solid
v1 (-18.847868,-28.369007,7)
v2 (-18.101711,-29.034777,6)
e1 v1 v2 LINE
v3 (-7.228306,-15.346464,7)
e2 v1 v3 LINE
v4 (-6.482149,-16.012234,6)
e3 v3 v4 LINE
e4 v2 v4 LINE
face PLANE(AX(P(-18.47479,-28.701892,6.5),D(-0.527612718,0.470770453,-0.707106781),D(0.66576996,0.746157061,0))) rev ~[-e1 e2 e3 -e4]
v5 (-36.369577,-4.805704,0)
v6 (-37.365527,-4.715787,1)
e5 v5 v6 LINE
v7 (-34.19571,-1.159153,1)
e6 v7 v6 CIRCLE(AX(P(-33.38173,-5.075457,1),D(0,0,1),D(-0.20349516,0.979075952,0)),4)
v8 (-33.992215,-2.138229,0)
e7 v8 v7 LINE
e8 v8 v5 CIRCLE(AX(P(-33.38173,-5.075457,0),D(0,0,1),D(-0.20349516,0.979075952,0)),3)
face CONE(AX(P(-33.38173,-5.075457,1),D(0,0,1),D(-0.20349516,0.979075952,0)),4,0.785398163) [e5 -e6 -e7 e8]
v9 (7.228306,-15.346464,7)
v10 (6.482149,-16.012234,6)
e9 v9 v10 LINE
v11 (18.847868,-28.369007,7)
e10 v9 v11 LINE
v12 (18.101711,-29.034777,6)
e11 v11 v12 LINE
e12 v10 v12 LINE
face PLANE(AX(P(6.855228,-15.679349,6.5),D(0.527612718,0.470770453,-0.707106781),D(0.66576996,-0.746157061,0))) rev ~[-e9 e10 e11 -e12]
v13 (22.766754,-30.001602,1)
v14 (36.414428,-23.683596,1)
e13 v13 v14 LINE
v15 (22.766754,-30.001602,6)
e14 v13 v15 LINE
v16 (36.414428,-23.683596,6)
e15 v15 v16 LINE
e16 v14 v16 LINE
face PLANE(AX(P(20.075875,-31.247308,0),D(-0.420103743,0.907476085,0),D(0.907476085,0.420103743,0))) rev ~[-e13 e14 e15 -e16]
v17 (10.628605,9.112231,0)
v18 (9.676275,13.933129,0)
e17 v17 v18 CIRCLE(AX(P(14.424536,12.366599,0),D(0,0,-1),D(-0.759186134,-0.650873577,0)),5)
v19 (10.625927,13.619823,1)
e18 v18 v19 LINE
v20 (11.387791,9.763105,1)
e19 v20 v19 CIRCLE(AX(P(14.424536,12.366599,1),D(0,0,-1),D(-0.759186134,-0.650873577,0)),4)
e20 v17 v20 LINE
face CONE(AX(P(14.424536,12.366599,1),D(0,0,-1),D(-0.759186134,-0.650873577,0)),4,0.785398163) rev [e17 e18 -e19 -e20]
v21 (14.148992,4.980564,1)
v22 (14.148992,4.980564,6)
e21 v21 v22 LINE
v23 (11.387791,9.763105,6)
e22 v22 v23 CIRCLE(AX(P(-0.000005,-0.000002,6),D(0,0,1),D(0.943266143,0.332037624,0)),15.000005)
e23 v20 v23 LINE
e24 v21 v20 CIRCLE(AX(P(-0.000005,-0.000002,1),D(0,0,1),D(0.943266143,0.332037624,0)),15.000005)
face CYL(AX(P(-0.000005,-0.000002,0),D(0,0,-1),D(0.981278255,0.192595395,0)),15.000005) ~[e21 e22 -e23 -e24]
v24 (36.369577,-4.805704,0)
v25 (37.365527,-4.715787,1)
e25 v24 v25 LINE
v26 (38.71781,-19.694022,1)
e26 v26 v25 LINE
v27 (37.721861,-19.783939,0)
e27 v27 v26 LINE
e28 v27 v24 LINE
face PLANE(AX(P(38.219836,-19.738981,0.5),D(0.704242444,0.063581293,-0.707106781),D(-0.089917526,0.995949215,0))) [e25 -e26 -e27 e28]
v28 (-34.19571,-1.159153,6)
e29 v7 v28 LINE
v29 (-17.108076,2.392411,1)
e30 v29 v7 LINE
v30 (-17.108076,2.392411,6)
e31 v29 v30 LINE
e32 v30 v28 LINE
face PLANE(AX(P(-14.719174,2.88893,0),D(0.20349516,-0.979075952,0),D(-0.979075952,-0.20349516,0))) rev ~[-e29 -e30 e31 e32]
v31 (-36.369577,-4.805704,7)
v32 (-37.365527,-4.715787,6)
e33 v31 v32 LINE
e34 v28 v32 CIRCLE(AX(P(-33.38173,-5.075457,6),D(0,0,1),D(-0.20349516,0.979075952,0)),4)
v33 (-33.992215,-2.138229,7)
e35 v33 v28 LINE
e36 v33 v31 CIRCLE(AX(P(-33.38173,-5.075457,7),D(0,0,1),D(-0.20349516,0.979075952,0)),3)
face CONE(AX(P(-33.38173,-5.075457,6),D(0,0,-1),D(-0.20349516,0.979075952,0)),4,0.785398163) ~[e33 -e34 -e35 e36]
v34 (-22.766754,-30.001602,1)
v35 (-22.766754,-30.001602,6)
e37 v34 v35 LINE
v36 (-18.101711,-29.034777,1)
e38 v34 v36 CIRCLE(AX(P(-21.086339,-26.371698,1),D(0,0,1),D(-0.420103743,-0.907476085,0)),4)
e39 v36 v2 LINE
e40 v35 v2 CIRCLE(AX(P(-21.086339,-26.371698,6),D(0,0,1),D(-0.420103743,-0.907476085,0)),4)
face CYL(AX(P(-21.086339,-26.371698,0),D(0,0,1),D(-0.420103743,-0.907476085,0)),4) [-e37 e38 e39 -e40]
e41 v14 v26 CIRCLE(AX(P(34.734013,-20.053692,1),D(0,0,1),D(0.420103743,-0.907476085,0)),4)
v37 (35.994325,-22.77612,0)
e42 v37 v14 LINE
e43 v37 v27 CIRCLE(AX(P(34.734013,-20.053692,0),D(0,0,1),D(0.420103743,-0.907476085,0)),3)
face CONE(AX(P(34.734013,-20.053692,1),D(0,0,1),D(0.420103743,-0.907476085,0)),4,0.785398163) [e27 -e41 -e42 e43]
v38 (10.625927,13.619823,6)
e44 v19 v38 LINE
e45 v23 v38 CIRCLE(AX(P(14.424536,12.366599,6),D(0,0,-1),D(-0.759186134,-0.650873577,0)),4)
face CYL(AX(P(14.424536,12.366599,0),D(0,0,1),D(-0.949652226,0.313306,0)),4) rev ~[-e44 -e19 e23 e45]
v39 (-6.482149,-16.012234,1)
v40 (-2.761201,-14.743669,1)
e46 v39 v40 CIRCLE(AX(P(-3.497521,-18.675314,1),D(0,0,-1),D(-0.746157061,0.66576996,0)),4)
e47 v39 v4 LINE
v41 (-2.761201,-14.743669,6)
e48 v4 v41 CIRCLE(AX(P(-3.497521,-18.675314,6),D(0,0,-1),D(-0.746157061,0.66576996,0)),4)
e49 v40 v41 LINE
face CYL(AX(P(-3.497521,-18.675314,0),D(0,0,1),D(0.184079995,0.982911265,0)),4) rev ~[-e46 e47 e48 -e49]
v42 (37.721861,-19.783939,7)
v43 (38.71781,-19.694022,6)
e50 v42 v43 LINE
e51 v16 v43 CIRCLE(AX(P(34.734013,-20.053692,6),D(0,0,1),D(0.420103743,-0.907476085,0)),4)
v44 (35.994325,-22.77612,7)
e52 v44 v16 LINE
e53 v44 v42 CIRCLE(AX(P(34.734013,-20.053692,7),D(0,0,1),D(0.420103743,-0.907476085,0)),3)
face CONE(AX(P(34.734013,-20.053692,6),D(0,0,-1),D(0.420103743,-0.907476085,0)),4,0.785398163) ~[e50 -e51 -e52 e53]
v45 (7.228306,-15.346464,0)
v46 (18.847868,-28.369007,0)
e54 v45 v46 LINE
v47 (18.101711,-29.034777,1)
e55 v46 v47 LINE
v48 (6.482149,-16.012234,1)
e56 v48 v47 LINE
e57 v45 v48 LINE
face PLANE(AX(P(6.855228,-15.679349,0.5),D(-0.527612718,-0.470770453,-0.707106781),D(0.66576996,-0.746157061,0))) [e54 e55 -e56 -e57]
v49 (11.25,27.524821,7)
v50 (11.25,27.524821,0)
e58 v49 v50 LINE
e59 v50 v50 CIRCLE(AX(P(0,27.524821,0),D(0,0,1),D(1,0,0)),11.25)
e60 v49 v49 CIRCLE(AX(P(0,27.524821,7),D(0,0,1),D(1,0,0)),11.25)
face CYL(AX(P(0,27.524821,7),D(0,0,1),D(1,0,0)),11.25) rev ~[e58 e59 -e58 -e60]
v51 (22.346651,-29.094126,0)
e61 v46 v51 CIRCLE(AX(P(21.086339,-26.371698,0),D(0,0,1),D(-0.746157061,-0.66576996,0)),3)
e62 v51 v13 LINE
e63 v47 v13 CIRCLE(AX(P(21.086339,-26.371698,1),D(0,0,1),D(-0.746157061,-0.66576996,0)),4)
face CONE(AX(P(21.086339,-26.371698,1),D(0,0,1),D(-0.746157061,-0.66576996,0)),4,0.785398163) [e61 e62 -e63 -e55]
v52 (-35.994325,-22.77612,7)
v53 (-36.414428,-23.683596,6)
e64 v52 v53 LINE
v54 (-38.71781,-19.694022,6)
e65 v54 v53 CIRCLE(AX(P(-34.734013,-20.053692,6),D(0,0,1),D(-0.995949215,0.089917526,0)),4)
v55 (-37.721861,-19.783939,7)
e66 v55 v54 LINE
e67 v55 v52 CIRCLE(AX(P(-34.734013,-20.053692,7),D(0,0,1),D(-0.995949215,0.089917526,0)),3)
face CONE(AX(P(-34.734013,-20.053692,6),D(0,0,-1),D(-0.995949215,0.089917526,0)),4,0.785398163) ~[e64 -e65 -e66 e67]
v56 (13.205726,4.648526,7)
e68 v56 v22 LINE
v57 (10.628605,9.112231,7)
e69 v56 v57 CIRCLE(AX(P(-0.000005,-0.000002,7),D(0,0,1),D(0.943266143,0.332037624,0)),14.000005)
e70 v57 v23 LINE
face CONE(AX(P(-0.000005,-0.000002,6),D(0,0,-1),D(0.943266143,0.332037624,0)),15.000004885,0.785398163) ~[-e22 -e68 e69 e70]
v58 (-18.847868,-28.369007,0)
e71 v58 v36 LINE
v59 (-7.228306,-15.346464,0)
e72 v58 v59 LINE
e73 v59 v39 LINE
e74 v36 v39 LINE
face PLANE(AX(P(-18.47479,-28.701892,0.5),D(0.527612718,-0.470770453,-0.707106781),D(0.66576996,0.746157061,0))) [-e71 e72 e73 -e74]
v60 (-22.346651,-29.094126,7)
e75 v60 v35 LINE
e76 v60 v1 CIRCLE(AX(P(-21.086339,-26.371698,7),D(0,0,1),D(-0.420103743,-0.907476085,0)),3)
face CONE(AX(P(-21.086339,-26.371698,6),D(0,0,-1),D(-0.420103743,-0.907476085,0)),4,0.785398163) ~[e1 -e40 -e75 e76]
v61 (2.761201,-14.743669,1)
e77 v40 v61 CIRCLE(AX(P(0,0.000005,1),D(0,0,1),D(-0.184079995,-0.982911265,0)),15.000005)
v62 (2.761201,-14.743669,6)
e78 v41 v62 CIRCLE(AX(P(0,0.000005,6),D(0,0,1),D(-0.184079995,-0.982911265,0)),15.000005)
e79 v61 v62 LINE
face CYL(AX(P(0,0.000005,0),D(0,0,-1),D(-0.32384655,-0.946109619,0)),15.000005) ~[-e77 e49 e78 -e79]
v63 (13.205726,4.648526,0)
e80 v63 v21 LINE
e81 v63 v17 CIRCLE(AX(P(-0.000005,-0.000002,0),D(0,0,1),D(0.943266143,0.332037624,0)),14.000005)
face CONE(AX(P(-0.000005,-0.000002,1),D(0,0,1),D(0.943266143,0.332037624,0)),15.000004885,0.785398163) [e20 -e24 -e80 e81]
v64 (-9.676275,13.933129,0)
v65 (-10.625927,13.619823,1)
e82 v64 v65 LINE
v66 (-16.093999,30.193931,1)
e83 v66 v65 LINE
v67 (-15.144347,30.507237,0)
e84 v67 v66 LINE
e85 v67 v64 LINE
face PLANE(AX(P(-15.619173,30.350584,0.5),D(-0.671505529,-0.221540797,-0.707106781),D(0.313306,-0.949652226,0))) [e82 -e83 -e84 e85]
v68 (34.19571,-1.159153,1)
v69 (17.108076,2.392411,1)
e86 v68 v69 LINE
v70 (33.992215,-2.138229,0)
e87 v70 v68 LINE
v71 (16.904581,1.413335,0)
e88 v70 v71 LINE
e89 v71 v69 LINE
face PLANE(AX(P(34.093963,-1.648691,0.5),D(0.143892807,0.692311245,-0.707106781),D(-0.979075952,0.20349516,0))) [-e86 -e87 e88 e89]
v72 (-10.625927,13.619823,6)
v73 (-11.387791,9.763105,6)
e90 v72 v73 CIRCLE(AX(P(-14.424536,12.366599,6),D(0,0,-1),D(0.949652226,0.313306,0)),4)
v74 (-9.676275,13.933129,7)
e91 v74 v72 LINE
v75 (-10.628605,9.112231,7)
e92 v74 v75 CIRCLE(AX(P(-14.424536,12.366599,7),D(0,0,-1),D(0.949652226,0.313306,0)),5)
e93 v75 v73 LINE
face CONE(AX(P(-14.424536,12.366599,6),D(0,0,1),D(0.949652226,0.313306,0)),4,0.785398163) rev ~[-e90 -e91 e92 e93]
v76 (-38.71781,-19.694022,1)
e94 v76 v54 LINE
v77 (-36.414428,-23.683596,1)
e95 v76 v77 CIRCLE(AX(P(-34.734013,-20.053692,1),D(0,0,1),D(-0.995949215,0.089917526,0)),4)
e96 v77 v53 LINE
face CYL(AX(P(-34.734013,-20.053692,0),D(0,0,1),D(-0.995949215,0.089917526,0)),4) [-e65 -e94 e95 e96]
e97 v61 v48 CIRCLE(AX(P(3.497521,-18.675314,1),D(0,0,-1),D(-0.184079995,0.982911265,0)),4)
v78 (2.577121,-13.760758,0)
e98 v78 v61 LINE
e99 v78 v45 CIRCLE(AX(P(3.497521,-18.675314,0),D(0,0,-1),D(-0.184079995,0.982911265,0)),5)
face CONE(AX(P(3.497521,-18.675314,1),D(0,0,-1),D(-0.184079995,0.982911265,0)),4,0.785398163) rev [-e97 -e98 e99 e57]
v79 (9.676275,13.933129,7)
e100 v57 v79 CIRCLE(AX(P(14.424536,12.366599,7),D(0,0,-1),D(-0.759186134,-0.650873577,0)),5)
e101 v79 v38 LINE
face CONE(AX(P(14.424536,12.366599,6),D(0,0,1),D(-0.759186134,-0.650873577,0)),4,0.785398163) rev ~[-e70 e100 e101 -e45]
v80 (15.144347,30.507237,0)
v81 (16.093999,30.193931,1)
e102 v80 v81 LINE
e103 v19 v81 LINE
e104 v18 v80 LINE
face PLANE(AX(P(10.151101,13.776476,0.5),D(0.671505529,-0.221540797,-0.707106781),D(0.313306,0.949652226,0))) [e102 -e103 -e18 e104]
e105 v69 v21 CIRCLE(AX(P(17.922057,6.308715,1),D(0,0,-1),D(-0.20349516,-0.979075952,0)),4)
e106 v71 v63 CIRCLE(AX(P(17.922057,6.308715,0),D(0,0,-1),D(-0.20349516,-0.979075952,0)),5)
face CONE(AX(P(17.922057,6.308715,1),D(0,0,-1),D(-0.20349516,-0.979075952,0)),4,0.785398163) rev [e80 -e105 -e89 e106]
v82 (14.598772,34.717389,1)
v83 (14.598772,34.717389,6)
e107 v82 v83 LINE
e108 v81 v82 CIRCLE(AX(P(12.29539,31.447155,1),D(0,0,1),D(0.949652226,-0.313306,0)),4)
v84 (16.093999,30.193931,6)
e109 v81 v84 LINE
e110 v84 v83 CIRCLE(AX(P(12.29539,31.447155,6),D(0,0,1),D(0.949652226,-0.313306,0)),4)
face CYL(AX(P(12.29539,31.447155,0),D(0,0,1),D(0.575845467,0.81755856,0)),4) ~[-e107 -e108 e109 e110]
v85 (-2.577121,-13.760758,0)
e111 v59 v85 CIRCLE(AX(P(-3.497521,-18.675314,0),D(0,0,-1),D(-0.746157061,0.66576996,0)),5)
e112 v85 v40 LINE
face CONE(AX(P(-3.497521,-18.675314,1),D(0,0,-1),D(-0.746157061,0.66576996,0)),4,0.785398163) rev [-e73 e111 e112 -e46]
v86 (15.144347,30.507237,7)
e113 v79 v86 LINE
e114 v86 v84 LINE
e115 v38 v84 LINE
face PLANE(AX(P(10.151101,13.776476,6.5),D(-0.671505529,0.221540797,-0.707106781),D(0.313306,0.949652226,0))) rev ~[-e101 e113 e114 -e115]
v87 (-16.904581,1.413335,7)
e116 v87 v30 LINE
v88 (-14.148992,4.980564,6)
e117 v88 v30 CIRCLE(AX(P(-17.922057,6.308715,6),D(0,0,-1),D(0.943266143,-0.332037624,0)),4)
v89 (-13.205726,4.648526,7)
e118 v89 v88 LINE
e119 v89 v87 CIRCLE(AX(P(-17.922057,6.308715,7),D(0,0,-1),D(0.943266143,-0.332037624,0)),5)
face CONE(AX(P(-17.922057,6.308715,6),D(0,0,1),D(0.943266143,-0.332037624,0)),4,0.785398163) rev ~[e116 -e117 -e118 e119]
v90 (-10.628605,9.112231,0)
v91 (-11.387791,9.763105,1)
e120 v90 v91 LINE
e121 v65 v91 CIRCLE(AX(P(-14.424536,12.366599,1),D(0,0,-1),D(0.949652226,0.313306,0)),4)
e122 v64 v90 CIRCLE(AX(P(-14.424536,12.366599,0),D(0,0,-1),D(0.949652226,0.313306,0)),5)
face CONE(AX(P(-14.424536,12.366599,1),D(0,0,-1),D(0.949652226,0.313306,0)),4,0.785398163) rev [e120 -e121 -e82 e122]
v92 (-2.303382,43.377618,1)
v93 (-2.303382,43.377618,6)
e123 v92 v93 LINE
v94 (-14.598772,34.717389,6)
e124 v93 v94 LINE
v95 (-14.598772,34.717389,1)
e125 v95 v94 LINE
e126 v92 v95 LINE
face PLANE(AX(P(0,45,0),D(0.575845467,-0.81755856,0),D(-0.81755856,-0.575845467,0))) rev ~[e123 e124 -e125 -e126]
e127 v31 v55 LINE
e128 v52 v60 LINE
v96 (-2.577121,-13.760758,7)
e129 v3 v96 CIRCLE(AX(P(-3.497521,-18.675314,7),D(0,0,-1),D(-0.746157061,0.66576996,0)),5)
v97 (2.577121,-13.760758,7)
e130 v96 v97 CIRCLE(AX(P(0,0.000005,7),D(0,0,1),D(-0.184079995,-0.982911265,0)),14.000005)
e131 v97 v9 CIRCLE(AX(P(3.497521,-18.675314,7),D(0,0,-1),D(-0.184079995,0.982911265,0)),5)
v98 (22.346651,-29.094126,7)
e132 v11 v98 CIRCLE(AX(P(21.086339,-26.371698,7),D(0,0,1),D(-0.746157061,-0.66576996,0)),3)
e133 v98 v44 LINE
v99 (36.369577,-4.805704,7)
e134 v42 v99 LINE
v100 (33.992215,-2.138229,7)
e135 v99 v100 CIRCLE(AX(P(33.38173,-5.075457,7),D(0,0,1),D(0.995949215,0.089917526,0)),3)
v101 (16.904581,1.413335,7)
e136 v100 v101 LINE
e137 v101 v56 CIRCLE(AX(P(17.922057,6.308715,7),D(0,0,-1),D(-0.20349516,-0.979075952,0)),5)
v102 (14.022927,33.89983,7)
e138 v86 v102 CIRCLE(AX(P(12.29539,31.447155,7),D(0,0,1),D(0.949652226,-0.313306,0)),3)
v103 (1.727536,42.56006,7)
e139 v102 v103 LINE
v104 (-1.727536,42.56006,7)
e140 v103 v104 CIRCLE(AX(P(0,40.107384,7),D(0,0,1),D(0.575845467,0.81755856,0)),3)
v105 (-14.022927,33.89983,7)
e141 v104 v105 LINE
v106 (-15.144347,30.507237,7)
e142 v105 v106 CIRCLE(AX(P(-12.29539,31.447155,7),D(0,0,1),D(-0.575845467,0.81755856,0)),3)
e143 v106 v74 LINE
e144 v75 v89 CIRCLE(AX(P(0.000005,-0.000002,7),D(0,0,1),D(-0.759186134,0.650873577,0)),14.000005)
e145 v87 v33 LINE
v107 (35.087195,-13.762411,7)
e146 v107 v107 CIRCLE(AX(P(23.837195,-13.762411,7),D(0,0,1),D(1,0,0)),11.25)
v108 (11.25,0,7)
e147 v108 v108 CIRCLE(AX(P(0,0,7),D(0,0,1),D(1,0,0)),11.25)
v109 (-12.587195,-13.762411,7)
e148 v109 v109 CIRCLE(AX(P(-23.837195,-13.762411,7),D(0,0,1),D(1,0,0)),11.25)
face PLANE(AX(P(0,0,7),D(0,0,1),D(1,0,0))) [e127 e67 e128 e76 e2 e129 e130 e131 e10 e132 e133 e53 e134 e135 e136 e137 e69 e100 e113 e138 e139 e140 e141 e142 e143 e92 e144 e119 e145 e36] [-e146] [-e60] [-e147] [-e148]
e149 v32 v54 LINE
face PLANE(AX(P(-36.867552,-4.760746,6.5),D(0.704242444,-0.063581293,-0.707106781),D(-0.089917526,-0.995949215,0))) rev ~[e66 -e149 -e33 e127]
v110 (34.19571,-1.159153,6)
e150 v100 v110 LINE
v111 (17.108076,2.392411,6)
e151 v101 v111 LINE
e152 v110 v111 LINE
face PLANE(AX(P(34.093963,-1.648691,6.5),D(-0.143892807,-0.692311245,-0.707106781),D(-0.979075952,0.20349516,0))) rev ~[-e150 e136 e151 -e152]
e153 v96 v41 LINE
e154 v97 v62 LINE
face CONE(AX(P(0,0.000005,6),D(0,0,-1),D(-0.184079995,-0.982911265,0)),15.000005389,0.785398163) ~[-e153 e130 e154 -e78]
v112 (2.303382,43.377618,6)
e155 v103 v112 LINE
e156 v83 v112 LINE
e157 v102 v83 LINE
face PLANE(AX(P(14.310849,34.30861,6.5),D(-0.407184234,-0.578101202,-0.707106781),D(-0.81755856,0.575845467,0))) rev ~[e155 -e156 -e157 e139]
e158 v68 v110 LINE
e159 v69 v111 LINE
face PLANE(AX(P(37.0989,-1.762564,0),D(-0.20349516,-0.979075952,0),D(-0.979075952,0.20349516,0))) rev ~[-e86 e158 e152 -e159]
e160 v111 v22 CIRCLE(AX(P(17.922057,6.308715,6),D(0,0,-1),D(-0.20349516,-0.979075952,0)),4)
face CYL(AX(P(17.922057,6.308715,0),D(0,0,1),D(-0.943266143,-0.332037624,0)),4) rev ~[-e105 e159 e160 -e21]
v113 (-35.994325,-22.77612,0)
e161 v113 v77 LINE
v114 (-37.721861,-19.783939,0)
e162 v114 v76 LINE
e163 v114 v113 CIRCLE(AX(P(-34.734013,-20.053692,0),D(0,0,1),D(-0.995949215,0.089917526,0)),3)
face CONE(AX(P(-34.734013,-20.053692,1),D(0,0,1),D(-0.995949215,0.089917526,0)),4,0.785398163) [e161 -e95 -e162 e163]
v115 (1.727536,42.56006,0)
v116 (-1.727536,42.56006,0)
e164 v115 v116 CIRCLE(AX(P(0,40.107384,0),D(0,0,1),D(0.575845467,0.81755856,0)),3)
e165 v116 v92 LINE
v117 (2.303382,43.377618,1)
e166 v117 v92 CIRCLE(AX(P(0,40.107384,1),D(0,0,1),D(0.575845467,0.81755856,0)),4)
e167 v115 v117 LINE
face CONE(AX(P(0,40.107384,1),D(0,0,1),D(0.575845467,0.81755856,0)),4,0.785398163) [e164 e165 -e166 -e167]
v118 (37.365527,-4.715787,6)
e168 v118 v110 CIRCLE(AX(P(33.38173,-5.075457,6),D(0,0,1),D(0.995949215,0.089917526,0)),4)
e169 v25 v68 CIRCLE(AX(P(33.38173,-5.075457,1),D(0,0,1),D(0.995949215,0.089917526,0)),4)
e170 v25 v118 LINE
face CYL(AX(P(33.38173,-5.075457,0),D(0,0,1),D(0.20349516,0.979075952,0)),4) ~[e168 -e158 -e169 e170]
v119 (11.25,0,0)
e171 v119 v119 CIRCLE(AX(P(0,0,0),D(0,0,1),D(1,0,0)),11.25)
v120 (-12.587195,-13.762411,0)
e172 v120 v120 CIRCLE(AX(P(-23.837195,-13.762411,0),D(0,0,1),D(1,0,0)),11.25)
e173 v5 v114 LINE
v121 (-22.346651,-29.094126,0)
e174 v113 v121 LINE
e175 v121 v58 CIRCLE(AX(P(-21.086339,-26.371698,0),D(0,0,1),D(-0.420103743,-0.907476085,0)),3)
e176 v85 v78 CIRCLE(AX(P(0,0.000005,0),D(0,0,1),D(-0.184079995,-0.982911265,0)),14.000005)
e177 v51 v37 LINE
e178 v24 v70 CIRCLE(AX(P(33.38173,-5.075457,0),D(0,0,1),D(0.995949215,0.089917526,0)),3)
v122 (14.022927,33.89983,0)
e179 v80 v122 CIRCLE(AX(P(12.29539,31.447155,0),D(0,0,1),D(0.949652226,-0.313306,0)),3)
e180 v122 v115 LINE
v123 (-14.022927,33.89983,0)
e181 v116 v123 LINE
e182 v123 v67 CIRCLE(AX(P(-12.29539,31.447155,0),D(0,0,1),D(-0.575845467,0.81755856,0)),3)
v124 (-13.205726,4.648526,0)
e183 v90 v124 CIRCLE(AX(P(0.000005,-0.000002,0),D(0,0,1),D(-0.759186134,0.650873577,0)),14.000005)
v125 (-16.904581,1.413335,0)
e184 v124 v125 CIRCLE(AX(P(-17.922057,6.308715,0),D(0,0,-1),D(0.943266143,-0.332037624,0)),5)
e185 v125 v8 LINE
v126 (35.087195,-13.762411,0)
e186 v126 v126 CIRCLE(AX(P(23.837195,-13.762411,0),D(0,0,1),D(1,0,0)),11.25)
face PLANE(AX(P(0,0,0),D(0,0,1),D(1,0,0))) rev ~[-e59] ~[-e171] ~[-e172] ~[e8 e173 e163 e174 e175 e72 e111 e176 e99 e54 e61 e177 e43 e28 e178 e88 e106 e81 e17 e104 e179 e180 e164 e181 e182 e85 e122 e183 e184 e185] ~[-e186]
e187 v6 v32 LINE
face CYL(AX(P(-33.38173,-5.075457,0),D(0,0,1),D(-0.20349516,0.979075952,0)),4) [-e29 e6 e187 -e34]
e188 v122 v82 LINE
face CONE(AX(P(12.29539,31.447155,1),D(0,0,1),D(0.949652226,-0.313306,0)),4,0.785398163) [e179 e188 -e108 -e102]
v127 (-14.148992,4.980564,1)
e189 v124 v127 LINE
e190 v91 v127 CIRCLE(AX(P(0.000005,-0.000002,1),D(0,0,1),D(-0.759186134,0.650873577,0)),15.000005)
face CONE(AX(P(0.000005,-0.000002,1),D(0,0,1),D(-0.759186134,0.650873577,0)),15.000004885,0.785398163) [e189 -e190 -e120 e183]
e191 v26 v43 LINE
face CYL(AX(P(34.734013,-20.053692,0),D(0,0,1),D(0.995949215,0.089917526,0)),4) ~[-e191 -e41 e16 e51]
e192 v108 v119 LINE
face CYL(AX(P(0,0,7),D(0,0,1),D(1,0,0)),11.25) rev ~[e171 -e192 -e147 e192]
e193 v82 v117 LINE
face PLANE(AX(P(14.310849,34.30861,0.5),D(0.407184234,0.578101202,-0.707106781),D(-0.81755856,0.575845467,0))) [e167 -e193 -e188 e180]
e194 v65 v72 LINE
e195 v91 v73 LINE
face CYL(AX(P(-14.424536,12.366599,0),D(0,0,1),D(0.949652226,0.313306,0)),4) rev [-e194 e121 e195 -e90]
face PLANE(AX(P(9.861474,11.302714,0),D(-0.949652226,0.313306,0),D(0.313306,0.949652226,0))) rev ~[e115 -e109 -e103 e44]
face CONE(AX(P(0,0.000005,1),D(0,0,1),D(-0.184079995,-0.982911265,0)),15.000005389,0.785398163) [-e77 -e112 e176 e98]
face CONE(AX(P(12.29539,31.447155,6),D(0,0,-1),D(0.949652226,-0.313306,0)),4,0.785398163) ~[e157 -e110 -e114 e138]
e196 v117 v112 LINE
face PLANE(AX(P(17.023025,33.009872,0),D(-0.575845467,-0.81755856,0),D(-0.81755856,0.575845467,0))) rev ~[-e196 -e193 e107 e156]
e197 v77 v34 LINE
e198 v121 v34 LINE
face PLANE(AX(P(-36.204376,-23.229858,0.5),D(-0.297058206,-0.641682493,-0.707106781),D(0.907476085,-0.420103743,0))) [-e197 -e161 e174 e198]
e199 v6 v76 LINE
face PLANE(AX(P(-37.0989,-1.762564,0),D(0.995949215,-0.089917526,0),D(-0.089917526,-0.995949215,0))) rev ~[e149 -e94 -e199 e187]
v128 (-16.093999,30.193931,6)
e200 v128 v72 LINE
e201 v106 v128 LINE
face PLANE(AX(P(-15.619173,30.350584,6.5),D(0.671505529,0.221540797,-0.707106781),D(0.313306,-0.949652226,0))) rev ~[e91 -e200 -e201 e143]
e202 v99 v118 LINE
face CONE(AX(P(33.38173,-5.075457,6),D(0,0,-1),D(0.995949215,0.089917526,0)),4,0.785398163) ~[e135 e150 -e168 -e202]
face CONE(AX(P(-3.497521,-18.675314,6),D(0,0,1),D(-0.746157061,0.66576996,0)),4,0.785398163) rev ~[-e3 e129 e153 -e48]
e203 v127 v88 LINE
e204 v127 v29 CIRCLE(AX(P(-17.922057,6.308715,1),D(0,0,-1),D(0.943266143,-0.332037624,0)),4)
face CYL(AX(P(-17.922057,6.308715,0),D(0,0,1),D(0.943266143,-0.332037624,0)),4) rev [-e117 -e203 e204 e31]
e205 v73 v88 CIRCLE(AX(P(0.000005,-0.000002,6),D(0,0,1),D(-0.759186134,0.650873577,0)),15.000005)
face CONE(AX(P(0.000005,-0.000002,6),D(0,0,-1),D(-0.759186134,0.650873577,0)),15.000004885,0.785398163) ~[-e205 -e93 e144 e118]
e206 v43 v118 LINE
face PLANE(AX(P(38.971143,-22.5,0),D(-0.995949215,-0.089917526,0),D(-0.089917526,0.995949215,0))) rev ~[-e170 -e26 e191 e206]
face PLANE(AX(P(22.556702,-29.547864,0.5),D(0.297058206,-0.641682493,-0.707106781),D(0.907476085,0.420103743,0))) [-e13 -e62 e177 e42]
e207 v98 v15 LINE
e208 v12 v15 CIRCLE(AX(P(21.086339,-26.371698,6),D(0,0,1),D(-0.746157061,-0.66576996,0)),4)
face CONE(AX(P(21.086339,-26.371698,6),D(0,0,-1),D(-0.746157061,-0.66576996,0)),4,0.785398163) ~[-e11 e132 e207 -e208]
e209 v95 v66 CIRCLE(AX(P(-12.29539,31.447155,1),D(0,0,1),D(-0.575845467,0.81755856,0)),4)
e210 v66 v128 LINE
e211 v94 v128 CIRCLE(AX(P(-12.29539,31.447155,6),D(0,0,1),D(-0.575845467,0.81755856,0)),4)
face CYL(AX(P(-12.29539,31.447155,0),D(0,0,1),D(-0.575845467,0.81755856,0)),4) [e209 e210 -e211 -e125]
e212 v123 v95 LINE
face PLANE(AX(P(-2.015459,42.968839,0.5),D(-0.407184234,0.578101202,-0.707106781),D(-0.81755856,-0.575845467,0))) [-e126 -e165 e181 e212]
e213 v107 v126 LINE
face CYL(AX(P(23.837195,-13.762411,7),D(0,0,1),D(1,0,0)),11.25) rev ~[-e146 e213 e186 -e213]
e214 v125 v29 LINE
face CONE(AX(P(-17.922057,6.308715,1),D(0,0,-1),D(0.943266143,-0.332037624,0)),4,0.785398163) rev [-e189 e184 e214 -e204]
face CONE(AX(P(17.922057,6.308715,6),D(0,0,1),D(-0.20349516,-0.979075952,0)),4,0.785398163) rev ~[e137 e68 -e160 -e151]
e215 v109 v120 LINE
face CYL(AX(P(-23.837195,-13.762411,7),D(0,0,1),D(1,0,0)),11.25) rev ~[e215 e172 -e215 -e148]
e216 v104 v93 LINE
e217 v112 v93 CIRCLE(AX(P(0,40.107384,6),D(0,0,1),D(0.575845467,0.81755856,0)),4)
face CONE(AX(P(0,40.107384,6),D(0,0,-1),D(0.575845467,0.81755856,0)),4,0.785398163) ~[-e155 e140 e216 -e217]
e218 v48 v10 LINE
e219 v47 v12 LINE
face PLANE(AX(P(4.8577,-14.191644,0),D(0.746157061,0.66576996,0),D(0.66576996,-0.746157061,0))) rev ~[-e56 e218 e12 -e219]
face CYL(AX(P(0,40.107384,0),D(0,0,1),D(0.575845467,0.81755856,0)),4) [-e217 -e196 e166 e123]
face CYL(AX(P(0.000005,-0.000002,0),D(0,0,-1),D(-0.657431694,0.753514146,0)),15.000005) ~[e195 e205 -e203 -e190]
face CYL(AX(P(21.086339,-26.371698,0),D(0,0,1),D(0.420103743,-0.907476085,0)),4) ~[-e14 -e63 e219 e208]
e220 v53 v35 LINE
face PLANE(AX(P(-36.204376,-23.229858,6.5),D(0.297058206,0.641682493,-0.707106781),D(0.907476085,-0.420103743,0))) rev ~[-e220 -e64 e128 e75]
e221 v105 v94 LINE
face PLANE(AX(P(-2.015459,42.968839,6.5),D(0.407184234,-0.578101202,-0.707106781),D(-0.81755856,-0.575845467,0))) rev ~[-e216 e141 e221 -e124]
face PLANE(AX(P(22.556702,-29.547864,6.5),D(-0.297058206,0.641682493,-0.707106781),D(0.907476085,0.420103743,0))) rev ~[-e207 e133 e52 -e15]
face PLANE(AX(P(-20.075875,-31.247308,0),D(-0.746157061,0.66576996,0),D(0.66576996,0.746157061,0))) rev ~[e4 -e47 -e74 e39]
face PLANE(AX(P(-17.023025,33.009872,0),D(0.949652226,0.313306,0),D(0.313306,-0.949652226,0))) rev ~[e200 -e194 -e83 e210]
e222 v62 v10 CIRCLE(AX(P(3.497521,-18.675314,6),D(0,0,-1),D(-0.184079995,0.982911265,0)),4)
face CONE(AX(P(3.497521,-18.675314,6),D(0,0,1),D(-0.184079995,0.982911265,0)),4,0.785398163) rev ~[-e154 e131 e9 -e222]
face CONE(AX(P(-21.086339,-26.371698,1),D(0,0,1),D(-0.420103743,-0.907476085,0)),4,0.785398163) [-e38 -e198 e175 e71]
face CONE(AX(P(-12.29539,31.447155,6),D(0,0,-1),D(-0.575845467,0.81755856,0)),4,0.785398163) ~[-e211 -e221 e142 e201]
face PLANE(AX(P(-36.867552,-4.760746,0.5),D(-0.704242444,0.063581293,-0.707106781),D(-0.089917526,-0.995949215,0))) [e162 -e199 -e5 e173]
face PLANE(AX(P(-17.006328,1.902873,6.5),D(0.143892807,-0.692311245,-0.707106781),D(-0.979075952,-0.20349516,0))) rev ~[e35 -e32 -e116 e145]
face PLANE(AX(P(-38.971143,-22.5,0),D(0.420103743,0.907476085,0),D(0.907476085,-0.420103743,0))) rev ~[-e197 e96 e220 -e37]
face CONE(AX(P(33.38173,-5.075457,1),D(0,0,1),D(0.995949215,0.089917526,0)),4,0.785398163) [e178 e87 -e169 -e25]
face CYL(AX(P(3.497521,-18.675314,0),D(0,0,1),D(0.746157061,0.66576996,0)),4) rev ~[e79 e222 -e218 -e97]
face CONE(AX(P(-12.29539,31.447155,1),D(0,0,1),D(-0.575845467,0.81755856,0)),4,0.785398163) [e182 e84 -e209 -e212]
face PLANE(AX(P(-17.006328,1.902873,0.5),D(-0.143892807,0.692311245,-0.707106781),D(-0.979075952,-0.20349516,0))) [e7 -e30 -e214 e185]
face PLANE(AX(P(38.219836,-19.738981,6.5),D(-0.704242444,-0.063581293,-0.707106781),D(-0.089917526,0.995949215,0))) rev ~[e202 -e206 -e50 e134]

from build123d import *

# Parameters (mm, degrees)
F0_R     = 11.635
F0_R_2   = 11.3175
F1_DEPTH = 7
F2_R     = 4
F3_SIZE  = 1
F4_R     = 11.3175
F4_R_2   = 11.25
F4_R_3   = 11.635
F5_DEPTH = 7


with BuildPart() as f1:
    # F0 (on Top) → F1 (new body)
    with BuildSketch(Plane.XY):
        with BuildLine():
            Line((17.023025, 33.009872), (0, 45))
            Line((0, 45), (-17.023025, 33.009872))
            Line((-17.023025, 33.009872), (-9.861474, 11.302714))
            ThreePointArc((-9.861474, 11.302714), (0, 15), (9.861474, 11.302714))
            Line((9.861474, 11.302714), (17.023025, 33.009872))
        make_face()
        with Locations((0, 27.524821)):
            Circle(F0_R, mode=Mode.SUBTRACT)
        with BuildLine():
            ThreePointArc((9.861474, 11.302714), (0, 15), (-9.861474, 11.302714))
            ThreePointArc((-9.861474, 11.302714), (-12.990381, 7.5), (-14.719174, 2.88893))
            ThreePointArc((-14.719174, 2.88893), (-12.990381, -7.5), (-4.8577, -14.191644))
            ThreePointArc((-4.8577, -14.191644), (0, -15), (4.8577, -14.191644))
            ThreePointArc((4.8577, -14.191644), (12.203801, -8.721654), (15, 0))
            ThreePointArc((15, 0), (14.929628, 1.451273), (14.719174, 2.88893))
            ThreePointArc((14.719174, 2.88893), (12.990381, 7.5), (9.861474, 11.302714))
        make_face()
        Circle(F0_R_2, mode=Mode.SUBTRACT)
        with BuildLine():
            ThreePointArc((-4.8577, -14.191644), (-12.990381, -7.5), (-14.719174, 2.88893))
            Line((-14.719174, 2.88893), (-37.0989, -1.762564))
            Line((-37.0989, -1.762564), (-38.971143, -22.5))
            Line((-38.971143, -22.5), (-20.075875, -31.247308))
            Line((-20.075875, -31.247308), (-4.8577, -14.191644))
        make_face()
        with Locations((-23.837195, -13.762411)):
            Circle(F0_R, mode=Mode.SUBTRACT)
        with BuildLine():
            Line((37.0989, -1.762564), (14.719174, 2.88893))
            ThreePointArc((14.719174, 2.88893), (14.929628, 1.451273), (15, 0))
            ThreePointArc((15, 0), (12.203801, -8.721654), (4.8577, -14.191644))
            Line((4.8577, -14.191644), (20.075875, -31.247308))
            Line((20.075875, -31.247308), (38.971143, -22.5))
            Line((38.971143, -22.5), (37.0989, -1.762564))
        make_face()
        with Locations((23.837195, -13.762411)):
            Circle(F0_R, mode=Mode.SUBTRACT)
    extrude(amount=F1_DEPTH)

    # F2
    f2_edges = [f1.edges().sort_by_distance(p)[0] for p in [
        (-20.075875, -31.247308, 3.5),
        (20.075875, -31.247308, 3.5),
        (38.971143, -22.5, 3.5),
        (37.0989, -1.762564, 3.5),
        (14.719174, 2.88893, 3.5),
        (9.861474, 11.302714, 3.5),
        (17.023025, 33.009872, 3.5),
        (0, 45, 3.5),
        (-17.023025, 33.009872, 3.5),
        (-9.861474, 11.302714, 3.5),
        (-14.719174, 2.88893, 3.5),
        (-37.0989, -1.762564, 3.5),
        (-38.971143, -22.5, 3.5),
        (-4.8577, -14.191644, 3.5),
        (4.8577, -14.191644, 3.5),
    ]]
    fillet(f2_edges, radius=F2_R)

    # F3
    f3_edges = [f1.edges().sort_by_distance(p)[0] for p in [
        (-13.359963, 21.906877, 7),
        (-13.359963, 21.906877, 0),
    ]]
    chamfer(f3_edges, length=F3_SIZE)

    # F4 (on face) → F5 (join)
    with BuildSketch(Plane.XY.offset(7)):
        Circle(F4_R)
        Circle(F4_R_2, mode=Mode.SUBTRACT)
        with Locations((0, 27.524821)):
            Circle(F4_R_3)
        with Locations((0, 27.524821)):
            Circle(F4_R_2, mode=Mode.SUBTRACT)
        with Locations((-23.837195, -13.762411)):
            Circle(F4_R_3)
        with Locations((-23.837195, -13.762411)):
            Circle(F4_R_2, mode=Mode.SUBTRACT)
        with Locations((23.837195, -13.762411)):
            Circle(F4_R_3)
        with Locations((23.837195, -13.762411)):
            Circle(F4_R_2, mode=Mode.SUBTRACT)
    extrude(amount=-F5_DEPTH)


solid = f1.part
